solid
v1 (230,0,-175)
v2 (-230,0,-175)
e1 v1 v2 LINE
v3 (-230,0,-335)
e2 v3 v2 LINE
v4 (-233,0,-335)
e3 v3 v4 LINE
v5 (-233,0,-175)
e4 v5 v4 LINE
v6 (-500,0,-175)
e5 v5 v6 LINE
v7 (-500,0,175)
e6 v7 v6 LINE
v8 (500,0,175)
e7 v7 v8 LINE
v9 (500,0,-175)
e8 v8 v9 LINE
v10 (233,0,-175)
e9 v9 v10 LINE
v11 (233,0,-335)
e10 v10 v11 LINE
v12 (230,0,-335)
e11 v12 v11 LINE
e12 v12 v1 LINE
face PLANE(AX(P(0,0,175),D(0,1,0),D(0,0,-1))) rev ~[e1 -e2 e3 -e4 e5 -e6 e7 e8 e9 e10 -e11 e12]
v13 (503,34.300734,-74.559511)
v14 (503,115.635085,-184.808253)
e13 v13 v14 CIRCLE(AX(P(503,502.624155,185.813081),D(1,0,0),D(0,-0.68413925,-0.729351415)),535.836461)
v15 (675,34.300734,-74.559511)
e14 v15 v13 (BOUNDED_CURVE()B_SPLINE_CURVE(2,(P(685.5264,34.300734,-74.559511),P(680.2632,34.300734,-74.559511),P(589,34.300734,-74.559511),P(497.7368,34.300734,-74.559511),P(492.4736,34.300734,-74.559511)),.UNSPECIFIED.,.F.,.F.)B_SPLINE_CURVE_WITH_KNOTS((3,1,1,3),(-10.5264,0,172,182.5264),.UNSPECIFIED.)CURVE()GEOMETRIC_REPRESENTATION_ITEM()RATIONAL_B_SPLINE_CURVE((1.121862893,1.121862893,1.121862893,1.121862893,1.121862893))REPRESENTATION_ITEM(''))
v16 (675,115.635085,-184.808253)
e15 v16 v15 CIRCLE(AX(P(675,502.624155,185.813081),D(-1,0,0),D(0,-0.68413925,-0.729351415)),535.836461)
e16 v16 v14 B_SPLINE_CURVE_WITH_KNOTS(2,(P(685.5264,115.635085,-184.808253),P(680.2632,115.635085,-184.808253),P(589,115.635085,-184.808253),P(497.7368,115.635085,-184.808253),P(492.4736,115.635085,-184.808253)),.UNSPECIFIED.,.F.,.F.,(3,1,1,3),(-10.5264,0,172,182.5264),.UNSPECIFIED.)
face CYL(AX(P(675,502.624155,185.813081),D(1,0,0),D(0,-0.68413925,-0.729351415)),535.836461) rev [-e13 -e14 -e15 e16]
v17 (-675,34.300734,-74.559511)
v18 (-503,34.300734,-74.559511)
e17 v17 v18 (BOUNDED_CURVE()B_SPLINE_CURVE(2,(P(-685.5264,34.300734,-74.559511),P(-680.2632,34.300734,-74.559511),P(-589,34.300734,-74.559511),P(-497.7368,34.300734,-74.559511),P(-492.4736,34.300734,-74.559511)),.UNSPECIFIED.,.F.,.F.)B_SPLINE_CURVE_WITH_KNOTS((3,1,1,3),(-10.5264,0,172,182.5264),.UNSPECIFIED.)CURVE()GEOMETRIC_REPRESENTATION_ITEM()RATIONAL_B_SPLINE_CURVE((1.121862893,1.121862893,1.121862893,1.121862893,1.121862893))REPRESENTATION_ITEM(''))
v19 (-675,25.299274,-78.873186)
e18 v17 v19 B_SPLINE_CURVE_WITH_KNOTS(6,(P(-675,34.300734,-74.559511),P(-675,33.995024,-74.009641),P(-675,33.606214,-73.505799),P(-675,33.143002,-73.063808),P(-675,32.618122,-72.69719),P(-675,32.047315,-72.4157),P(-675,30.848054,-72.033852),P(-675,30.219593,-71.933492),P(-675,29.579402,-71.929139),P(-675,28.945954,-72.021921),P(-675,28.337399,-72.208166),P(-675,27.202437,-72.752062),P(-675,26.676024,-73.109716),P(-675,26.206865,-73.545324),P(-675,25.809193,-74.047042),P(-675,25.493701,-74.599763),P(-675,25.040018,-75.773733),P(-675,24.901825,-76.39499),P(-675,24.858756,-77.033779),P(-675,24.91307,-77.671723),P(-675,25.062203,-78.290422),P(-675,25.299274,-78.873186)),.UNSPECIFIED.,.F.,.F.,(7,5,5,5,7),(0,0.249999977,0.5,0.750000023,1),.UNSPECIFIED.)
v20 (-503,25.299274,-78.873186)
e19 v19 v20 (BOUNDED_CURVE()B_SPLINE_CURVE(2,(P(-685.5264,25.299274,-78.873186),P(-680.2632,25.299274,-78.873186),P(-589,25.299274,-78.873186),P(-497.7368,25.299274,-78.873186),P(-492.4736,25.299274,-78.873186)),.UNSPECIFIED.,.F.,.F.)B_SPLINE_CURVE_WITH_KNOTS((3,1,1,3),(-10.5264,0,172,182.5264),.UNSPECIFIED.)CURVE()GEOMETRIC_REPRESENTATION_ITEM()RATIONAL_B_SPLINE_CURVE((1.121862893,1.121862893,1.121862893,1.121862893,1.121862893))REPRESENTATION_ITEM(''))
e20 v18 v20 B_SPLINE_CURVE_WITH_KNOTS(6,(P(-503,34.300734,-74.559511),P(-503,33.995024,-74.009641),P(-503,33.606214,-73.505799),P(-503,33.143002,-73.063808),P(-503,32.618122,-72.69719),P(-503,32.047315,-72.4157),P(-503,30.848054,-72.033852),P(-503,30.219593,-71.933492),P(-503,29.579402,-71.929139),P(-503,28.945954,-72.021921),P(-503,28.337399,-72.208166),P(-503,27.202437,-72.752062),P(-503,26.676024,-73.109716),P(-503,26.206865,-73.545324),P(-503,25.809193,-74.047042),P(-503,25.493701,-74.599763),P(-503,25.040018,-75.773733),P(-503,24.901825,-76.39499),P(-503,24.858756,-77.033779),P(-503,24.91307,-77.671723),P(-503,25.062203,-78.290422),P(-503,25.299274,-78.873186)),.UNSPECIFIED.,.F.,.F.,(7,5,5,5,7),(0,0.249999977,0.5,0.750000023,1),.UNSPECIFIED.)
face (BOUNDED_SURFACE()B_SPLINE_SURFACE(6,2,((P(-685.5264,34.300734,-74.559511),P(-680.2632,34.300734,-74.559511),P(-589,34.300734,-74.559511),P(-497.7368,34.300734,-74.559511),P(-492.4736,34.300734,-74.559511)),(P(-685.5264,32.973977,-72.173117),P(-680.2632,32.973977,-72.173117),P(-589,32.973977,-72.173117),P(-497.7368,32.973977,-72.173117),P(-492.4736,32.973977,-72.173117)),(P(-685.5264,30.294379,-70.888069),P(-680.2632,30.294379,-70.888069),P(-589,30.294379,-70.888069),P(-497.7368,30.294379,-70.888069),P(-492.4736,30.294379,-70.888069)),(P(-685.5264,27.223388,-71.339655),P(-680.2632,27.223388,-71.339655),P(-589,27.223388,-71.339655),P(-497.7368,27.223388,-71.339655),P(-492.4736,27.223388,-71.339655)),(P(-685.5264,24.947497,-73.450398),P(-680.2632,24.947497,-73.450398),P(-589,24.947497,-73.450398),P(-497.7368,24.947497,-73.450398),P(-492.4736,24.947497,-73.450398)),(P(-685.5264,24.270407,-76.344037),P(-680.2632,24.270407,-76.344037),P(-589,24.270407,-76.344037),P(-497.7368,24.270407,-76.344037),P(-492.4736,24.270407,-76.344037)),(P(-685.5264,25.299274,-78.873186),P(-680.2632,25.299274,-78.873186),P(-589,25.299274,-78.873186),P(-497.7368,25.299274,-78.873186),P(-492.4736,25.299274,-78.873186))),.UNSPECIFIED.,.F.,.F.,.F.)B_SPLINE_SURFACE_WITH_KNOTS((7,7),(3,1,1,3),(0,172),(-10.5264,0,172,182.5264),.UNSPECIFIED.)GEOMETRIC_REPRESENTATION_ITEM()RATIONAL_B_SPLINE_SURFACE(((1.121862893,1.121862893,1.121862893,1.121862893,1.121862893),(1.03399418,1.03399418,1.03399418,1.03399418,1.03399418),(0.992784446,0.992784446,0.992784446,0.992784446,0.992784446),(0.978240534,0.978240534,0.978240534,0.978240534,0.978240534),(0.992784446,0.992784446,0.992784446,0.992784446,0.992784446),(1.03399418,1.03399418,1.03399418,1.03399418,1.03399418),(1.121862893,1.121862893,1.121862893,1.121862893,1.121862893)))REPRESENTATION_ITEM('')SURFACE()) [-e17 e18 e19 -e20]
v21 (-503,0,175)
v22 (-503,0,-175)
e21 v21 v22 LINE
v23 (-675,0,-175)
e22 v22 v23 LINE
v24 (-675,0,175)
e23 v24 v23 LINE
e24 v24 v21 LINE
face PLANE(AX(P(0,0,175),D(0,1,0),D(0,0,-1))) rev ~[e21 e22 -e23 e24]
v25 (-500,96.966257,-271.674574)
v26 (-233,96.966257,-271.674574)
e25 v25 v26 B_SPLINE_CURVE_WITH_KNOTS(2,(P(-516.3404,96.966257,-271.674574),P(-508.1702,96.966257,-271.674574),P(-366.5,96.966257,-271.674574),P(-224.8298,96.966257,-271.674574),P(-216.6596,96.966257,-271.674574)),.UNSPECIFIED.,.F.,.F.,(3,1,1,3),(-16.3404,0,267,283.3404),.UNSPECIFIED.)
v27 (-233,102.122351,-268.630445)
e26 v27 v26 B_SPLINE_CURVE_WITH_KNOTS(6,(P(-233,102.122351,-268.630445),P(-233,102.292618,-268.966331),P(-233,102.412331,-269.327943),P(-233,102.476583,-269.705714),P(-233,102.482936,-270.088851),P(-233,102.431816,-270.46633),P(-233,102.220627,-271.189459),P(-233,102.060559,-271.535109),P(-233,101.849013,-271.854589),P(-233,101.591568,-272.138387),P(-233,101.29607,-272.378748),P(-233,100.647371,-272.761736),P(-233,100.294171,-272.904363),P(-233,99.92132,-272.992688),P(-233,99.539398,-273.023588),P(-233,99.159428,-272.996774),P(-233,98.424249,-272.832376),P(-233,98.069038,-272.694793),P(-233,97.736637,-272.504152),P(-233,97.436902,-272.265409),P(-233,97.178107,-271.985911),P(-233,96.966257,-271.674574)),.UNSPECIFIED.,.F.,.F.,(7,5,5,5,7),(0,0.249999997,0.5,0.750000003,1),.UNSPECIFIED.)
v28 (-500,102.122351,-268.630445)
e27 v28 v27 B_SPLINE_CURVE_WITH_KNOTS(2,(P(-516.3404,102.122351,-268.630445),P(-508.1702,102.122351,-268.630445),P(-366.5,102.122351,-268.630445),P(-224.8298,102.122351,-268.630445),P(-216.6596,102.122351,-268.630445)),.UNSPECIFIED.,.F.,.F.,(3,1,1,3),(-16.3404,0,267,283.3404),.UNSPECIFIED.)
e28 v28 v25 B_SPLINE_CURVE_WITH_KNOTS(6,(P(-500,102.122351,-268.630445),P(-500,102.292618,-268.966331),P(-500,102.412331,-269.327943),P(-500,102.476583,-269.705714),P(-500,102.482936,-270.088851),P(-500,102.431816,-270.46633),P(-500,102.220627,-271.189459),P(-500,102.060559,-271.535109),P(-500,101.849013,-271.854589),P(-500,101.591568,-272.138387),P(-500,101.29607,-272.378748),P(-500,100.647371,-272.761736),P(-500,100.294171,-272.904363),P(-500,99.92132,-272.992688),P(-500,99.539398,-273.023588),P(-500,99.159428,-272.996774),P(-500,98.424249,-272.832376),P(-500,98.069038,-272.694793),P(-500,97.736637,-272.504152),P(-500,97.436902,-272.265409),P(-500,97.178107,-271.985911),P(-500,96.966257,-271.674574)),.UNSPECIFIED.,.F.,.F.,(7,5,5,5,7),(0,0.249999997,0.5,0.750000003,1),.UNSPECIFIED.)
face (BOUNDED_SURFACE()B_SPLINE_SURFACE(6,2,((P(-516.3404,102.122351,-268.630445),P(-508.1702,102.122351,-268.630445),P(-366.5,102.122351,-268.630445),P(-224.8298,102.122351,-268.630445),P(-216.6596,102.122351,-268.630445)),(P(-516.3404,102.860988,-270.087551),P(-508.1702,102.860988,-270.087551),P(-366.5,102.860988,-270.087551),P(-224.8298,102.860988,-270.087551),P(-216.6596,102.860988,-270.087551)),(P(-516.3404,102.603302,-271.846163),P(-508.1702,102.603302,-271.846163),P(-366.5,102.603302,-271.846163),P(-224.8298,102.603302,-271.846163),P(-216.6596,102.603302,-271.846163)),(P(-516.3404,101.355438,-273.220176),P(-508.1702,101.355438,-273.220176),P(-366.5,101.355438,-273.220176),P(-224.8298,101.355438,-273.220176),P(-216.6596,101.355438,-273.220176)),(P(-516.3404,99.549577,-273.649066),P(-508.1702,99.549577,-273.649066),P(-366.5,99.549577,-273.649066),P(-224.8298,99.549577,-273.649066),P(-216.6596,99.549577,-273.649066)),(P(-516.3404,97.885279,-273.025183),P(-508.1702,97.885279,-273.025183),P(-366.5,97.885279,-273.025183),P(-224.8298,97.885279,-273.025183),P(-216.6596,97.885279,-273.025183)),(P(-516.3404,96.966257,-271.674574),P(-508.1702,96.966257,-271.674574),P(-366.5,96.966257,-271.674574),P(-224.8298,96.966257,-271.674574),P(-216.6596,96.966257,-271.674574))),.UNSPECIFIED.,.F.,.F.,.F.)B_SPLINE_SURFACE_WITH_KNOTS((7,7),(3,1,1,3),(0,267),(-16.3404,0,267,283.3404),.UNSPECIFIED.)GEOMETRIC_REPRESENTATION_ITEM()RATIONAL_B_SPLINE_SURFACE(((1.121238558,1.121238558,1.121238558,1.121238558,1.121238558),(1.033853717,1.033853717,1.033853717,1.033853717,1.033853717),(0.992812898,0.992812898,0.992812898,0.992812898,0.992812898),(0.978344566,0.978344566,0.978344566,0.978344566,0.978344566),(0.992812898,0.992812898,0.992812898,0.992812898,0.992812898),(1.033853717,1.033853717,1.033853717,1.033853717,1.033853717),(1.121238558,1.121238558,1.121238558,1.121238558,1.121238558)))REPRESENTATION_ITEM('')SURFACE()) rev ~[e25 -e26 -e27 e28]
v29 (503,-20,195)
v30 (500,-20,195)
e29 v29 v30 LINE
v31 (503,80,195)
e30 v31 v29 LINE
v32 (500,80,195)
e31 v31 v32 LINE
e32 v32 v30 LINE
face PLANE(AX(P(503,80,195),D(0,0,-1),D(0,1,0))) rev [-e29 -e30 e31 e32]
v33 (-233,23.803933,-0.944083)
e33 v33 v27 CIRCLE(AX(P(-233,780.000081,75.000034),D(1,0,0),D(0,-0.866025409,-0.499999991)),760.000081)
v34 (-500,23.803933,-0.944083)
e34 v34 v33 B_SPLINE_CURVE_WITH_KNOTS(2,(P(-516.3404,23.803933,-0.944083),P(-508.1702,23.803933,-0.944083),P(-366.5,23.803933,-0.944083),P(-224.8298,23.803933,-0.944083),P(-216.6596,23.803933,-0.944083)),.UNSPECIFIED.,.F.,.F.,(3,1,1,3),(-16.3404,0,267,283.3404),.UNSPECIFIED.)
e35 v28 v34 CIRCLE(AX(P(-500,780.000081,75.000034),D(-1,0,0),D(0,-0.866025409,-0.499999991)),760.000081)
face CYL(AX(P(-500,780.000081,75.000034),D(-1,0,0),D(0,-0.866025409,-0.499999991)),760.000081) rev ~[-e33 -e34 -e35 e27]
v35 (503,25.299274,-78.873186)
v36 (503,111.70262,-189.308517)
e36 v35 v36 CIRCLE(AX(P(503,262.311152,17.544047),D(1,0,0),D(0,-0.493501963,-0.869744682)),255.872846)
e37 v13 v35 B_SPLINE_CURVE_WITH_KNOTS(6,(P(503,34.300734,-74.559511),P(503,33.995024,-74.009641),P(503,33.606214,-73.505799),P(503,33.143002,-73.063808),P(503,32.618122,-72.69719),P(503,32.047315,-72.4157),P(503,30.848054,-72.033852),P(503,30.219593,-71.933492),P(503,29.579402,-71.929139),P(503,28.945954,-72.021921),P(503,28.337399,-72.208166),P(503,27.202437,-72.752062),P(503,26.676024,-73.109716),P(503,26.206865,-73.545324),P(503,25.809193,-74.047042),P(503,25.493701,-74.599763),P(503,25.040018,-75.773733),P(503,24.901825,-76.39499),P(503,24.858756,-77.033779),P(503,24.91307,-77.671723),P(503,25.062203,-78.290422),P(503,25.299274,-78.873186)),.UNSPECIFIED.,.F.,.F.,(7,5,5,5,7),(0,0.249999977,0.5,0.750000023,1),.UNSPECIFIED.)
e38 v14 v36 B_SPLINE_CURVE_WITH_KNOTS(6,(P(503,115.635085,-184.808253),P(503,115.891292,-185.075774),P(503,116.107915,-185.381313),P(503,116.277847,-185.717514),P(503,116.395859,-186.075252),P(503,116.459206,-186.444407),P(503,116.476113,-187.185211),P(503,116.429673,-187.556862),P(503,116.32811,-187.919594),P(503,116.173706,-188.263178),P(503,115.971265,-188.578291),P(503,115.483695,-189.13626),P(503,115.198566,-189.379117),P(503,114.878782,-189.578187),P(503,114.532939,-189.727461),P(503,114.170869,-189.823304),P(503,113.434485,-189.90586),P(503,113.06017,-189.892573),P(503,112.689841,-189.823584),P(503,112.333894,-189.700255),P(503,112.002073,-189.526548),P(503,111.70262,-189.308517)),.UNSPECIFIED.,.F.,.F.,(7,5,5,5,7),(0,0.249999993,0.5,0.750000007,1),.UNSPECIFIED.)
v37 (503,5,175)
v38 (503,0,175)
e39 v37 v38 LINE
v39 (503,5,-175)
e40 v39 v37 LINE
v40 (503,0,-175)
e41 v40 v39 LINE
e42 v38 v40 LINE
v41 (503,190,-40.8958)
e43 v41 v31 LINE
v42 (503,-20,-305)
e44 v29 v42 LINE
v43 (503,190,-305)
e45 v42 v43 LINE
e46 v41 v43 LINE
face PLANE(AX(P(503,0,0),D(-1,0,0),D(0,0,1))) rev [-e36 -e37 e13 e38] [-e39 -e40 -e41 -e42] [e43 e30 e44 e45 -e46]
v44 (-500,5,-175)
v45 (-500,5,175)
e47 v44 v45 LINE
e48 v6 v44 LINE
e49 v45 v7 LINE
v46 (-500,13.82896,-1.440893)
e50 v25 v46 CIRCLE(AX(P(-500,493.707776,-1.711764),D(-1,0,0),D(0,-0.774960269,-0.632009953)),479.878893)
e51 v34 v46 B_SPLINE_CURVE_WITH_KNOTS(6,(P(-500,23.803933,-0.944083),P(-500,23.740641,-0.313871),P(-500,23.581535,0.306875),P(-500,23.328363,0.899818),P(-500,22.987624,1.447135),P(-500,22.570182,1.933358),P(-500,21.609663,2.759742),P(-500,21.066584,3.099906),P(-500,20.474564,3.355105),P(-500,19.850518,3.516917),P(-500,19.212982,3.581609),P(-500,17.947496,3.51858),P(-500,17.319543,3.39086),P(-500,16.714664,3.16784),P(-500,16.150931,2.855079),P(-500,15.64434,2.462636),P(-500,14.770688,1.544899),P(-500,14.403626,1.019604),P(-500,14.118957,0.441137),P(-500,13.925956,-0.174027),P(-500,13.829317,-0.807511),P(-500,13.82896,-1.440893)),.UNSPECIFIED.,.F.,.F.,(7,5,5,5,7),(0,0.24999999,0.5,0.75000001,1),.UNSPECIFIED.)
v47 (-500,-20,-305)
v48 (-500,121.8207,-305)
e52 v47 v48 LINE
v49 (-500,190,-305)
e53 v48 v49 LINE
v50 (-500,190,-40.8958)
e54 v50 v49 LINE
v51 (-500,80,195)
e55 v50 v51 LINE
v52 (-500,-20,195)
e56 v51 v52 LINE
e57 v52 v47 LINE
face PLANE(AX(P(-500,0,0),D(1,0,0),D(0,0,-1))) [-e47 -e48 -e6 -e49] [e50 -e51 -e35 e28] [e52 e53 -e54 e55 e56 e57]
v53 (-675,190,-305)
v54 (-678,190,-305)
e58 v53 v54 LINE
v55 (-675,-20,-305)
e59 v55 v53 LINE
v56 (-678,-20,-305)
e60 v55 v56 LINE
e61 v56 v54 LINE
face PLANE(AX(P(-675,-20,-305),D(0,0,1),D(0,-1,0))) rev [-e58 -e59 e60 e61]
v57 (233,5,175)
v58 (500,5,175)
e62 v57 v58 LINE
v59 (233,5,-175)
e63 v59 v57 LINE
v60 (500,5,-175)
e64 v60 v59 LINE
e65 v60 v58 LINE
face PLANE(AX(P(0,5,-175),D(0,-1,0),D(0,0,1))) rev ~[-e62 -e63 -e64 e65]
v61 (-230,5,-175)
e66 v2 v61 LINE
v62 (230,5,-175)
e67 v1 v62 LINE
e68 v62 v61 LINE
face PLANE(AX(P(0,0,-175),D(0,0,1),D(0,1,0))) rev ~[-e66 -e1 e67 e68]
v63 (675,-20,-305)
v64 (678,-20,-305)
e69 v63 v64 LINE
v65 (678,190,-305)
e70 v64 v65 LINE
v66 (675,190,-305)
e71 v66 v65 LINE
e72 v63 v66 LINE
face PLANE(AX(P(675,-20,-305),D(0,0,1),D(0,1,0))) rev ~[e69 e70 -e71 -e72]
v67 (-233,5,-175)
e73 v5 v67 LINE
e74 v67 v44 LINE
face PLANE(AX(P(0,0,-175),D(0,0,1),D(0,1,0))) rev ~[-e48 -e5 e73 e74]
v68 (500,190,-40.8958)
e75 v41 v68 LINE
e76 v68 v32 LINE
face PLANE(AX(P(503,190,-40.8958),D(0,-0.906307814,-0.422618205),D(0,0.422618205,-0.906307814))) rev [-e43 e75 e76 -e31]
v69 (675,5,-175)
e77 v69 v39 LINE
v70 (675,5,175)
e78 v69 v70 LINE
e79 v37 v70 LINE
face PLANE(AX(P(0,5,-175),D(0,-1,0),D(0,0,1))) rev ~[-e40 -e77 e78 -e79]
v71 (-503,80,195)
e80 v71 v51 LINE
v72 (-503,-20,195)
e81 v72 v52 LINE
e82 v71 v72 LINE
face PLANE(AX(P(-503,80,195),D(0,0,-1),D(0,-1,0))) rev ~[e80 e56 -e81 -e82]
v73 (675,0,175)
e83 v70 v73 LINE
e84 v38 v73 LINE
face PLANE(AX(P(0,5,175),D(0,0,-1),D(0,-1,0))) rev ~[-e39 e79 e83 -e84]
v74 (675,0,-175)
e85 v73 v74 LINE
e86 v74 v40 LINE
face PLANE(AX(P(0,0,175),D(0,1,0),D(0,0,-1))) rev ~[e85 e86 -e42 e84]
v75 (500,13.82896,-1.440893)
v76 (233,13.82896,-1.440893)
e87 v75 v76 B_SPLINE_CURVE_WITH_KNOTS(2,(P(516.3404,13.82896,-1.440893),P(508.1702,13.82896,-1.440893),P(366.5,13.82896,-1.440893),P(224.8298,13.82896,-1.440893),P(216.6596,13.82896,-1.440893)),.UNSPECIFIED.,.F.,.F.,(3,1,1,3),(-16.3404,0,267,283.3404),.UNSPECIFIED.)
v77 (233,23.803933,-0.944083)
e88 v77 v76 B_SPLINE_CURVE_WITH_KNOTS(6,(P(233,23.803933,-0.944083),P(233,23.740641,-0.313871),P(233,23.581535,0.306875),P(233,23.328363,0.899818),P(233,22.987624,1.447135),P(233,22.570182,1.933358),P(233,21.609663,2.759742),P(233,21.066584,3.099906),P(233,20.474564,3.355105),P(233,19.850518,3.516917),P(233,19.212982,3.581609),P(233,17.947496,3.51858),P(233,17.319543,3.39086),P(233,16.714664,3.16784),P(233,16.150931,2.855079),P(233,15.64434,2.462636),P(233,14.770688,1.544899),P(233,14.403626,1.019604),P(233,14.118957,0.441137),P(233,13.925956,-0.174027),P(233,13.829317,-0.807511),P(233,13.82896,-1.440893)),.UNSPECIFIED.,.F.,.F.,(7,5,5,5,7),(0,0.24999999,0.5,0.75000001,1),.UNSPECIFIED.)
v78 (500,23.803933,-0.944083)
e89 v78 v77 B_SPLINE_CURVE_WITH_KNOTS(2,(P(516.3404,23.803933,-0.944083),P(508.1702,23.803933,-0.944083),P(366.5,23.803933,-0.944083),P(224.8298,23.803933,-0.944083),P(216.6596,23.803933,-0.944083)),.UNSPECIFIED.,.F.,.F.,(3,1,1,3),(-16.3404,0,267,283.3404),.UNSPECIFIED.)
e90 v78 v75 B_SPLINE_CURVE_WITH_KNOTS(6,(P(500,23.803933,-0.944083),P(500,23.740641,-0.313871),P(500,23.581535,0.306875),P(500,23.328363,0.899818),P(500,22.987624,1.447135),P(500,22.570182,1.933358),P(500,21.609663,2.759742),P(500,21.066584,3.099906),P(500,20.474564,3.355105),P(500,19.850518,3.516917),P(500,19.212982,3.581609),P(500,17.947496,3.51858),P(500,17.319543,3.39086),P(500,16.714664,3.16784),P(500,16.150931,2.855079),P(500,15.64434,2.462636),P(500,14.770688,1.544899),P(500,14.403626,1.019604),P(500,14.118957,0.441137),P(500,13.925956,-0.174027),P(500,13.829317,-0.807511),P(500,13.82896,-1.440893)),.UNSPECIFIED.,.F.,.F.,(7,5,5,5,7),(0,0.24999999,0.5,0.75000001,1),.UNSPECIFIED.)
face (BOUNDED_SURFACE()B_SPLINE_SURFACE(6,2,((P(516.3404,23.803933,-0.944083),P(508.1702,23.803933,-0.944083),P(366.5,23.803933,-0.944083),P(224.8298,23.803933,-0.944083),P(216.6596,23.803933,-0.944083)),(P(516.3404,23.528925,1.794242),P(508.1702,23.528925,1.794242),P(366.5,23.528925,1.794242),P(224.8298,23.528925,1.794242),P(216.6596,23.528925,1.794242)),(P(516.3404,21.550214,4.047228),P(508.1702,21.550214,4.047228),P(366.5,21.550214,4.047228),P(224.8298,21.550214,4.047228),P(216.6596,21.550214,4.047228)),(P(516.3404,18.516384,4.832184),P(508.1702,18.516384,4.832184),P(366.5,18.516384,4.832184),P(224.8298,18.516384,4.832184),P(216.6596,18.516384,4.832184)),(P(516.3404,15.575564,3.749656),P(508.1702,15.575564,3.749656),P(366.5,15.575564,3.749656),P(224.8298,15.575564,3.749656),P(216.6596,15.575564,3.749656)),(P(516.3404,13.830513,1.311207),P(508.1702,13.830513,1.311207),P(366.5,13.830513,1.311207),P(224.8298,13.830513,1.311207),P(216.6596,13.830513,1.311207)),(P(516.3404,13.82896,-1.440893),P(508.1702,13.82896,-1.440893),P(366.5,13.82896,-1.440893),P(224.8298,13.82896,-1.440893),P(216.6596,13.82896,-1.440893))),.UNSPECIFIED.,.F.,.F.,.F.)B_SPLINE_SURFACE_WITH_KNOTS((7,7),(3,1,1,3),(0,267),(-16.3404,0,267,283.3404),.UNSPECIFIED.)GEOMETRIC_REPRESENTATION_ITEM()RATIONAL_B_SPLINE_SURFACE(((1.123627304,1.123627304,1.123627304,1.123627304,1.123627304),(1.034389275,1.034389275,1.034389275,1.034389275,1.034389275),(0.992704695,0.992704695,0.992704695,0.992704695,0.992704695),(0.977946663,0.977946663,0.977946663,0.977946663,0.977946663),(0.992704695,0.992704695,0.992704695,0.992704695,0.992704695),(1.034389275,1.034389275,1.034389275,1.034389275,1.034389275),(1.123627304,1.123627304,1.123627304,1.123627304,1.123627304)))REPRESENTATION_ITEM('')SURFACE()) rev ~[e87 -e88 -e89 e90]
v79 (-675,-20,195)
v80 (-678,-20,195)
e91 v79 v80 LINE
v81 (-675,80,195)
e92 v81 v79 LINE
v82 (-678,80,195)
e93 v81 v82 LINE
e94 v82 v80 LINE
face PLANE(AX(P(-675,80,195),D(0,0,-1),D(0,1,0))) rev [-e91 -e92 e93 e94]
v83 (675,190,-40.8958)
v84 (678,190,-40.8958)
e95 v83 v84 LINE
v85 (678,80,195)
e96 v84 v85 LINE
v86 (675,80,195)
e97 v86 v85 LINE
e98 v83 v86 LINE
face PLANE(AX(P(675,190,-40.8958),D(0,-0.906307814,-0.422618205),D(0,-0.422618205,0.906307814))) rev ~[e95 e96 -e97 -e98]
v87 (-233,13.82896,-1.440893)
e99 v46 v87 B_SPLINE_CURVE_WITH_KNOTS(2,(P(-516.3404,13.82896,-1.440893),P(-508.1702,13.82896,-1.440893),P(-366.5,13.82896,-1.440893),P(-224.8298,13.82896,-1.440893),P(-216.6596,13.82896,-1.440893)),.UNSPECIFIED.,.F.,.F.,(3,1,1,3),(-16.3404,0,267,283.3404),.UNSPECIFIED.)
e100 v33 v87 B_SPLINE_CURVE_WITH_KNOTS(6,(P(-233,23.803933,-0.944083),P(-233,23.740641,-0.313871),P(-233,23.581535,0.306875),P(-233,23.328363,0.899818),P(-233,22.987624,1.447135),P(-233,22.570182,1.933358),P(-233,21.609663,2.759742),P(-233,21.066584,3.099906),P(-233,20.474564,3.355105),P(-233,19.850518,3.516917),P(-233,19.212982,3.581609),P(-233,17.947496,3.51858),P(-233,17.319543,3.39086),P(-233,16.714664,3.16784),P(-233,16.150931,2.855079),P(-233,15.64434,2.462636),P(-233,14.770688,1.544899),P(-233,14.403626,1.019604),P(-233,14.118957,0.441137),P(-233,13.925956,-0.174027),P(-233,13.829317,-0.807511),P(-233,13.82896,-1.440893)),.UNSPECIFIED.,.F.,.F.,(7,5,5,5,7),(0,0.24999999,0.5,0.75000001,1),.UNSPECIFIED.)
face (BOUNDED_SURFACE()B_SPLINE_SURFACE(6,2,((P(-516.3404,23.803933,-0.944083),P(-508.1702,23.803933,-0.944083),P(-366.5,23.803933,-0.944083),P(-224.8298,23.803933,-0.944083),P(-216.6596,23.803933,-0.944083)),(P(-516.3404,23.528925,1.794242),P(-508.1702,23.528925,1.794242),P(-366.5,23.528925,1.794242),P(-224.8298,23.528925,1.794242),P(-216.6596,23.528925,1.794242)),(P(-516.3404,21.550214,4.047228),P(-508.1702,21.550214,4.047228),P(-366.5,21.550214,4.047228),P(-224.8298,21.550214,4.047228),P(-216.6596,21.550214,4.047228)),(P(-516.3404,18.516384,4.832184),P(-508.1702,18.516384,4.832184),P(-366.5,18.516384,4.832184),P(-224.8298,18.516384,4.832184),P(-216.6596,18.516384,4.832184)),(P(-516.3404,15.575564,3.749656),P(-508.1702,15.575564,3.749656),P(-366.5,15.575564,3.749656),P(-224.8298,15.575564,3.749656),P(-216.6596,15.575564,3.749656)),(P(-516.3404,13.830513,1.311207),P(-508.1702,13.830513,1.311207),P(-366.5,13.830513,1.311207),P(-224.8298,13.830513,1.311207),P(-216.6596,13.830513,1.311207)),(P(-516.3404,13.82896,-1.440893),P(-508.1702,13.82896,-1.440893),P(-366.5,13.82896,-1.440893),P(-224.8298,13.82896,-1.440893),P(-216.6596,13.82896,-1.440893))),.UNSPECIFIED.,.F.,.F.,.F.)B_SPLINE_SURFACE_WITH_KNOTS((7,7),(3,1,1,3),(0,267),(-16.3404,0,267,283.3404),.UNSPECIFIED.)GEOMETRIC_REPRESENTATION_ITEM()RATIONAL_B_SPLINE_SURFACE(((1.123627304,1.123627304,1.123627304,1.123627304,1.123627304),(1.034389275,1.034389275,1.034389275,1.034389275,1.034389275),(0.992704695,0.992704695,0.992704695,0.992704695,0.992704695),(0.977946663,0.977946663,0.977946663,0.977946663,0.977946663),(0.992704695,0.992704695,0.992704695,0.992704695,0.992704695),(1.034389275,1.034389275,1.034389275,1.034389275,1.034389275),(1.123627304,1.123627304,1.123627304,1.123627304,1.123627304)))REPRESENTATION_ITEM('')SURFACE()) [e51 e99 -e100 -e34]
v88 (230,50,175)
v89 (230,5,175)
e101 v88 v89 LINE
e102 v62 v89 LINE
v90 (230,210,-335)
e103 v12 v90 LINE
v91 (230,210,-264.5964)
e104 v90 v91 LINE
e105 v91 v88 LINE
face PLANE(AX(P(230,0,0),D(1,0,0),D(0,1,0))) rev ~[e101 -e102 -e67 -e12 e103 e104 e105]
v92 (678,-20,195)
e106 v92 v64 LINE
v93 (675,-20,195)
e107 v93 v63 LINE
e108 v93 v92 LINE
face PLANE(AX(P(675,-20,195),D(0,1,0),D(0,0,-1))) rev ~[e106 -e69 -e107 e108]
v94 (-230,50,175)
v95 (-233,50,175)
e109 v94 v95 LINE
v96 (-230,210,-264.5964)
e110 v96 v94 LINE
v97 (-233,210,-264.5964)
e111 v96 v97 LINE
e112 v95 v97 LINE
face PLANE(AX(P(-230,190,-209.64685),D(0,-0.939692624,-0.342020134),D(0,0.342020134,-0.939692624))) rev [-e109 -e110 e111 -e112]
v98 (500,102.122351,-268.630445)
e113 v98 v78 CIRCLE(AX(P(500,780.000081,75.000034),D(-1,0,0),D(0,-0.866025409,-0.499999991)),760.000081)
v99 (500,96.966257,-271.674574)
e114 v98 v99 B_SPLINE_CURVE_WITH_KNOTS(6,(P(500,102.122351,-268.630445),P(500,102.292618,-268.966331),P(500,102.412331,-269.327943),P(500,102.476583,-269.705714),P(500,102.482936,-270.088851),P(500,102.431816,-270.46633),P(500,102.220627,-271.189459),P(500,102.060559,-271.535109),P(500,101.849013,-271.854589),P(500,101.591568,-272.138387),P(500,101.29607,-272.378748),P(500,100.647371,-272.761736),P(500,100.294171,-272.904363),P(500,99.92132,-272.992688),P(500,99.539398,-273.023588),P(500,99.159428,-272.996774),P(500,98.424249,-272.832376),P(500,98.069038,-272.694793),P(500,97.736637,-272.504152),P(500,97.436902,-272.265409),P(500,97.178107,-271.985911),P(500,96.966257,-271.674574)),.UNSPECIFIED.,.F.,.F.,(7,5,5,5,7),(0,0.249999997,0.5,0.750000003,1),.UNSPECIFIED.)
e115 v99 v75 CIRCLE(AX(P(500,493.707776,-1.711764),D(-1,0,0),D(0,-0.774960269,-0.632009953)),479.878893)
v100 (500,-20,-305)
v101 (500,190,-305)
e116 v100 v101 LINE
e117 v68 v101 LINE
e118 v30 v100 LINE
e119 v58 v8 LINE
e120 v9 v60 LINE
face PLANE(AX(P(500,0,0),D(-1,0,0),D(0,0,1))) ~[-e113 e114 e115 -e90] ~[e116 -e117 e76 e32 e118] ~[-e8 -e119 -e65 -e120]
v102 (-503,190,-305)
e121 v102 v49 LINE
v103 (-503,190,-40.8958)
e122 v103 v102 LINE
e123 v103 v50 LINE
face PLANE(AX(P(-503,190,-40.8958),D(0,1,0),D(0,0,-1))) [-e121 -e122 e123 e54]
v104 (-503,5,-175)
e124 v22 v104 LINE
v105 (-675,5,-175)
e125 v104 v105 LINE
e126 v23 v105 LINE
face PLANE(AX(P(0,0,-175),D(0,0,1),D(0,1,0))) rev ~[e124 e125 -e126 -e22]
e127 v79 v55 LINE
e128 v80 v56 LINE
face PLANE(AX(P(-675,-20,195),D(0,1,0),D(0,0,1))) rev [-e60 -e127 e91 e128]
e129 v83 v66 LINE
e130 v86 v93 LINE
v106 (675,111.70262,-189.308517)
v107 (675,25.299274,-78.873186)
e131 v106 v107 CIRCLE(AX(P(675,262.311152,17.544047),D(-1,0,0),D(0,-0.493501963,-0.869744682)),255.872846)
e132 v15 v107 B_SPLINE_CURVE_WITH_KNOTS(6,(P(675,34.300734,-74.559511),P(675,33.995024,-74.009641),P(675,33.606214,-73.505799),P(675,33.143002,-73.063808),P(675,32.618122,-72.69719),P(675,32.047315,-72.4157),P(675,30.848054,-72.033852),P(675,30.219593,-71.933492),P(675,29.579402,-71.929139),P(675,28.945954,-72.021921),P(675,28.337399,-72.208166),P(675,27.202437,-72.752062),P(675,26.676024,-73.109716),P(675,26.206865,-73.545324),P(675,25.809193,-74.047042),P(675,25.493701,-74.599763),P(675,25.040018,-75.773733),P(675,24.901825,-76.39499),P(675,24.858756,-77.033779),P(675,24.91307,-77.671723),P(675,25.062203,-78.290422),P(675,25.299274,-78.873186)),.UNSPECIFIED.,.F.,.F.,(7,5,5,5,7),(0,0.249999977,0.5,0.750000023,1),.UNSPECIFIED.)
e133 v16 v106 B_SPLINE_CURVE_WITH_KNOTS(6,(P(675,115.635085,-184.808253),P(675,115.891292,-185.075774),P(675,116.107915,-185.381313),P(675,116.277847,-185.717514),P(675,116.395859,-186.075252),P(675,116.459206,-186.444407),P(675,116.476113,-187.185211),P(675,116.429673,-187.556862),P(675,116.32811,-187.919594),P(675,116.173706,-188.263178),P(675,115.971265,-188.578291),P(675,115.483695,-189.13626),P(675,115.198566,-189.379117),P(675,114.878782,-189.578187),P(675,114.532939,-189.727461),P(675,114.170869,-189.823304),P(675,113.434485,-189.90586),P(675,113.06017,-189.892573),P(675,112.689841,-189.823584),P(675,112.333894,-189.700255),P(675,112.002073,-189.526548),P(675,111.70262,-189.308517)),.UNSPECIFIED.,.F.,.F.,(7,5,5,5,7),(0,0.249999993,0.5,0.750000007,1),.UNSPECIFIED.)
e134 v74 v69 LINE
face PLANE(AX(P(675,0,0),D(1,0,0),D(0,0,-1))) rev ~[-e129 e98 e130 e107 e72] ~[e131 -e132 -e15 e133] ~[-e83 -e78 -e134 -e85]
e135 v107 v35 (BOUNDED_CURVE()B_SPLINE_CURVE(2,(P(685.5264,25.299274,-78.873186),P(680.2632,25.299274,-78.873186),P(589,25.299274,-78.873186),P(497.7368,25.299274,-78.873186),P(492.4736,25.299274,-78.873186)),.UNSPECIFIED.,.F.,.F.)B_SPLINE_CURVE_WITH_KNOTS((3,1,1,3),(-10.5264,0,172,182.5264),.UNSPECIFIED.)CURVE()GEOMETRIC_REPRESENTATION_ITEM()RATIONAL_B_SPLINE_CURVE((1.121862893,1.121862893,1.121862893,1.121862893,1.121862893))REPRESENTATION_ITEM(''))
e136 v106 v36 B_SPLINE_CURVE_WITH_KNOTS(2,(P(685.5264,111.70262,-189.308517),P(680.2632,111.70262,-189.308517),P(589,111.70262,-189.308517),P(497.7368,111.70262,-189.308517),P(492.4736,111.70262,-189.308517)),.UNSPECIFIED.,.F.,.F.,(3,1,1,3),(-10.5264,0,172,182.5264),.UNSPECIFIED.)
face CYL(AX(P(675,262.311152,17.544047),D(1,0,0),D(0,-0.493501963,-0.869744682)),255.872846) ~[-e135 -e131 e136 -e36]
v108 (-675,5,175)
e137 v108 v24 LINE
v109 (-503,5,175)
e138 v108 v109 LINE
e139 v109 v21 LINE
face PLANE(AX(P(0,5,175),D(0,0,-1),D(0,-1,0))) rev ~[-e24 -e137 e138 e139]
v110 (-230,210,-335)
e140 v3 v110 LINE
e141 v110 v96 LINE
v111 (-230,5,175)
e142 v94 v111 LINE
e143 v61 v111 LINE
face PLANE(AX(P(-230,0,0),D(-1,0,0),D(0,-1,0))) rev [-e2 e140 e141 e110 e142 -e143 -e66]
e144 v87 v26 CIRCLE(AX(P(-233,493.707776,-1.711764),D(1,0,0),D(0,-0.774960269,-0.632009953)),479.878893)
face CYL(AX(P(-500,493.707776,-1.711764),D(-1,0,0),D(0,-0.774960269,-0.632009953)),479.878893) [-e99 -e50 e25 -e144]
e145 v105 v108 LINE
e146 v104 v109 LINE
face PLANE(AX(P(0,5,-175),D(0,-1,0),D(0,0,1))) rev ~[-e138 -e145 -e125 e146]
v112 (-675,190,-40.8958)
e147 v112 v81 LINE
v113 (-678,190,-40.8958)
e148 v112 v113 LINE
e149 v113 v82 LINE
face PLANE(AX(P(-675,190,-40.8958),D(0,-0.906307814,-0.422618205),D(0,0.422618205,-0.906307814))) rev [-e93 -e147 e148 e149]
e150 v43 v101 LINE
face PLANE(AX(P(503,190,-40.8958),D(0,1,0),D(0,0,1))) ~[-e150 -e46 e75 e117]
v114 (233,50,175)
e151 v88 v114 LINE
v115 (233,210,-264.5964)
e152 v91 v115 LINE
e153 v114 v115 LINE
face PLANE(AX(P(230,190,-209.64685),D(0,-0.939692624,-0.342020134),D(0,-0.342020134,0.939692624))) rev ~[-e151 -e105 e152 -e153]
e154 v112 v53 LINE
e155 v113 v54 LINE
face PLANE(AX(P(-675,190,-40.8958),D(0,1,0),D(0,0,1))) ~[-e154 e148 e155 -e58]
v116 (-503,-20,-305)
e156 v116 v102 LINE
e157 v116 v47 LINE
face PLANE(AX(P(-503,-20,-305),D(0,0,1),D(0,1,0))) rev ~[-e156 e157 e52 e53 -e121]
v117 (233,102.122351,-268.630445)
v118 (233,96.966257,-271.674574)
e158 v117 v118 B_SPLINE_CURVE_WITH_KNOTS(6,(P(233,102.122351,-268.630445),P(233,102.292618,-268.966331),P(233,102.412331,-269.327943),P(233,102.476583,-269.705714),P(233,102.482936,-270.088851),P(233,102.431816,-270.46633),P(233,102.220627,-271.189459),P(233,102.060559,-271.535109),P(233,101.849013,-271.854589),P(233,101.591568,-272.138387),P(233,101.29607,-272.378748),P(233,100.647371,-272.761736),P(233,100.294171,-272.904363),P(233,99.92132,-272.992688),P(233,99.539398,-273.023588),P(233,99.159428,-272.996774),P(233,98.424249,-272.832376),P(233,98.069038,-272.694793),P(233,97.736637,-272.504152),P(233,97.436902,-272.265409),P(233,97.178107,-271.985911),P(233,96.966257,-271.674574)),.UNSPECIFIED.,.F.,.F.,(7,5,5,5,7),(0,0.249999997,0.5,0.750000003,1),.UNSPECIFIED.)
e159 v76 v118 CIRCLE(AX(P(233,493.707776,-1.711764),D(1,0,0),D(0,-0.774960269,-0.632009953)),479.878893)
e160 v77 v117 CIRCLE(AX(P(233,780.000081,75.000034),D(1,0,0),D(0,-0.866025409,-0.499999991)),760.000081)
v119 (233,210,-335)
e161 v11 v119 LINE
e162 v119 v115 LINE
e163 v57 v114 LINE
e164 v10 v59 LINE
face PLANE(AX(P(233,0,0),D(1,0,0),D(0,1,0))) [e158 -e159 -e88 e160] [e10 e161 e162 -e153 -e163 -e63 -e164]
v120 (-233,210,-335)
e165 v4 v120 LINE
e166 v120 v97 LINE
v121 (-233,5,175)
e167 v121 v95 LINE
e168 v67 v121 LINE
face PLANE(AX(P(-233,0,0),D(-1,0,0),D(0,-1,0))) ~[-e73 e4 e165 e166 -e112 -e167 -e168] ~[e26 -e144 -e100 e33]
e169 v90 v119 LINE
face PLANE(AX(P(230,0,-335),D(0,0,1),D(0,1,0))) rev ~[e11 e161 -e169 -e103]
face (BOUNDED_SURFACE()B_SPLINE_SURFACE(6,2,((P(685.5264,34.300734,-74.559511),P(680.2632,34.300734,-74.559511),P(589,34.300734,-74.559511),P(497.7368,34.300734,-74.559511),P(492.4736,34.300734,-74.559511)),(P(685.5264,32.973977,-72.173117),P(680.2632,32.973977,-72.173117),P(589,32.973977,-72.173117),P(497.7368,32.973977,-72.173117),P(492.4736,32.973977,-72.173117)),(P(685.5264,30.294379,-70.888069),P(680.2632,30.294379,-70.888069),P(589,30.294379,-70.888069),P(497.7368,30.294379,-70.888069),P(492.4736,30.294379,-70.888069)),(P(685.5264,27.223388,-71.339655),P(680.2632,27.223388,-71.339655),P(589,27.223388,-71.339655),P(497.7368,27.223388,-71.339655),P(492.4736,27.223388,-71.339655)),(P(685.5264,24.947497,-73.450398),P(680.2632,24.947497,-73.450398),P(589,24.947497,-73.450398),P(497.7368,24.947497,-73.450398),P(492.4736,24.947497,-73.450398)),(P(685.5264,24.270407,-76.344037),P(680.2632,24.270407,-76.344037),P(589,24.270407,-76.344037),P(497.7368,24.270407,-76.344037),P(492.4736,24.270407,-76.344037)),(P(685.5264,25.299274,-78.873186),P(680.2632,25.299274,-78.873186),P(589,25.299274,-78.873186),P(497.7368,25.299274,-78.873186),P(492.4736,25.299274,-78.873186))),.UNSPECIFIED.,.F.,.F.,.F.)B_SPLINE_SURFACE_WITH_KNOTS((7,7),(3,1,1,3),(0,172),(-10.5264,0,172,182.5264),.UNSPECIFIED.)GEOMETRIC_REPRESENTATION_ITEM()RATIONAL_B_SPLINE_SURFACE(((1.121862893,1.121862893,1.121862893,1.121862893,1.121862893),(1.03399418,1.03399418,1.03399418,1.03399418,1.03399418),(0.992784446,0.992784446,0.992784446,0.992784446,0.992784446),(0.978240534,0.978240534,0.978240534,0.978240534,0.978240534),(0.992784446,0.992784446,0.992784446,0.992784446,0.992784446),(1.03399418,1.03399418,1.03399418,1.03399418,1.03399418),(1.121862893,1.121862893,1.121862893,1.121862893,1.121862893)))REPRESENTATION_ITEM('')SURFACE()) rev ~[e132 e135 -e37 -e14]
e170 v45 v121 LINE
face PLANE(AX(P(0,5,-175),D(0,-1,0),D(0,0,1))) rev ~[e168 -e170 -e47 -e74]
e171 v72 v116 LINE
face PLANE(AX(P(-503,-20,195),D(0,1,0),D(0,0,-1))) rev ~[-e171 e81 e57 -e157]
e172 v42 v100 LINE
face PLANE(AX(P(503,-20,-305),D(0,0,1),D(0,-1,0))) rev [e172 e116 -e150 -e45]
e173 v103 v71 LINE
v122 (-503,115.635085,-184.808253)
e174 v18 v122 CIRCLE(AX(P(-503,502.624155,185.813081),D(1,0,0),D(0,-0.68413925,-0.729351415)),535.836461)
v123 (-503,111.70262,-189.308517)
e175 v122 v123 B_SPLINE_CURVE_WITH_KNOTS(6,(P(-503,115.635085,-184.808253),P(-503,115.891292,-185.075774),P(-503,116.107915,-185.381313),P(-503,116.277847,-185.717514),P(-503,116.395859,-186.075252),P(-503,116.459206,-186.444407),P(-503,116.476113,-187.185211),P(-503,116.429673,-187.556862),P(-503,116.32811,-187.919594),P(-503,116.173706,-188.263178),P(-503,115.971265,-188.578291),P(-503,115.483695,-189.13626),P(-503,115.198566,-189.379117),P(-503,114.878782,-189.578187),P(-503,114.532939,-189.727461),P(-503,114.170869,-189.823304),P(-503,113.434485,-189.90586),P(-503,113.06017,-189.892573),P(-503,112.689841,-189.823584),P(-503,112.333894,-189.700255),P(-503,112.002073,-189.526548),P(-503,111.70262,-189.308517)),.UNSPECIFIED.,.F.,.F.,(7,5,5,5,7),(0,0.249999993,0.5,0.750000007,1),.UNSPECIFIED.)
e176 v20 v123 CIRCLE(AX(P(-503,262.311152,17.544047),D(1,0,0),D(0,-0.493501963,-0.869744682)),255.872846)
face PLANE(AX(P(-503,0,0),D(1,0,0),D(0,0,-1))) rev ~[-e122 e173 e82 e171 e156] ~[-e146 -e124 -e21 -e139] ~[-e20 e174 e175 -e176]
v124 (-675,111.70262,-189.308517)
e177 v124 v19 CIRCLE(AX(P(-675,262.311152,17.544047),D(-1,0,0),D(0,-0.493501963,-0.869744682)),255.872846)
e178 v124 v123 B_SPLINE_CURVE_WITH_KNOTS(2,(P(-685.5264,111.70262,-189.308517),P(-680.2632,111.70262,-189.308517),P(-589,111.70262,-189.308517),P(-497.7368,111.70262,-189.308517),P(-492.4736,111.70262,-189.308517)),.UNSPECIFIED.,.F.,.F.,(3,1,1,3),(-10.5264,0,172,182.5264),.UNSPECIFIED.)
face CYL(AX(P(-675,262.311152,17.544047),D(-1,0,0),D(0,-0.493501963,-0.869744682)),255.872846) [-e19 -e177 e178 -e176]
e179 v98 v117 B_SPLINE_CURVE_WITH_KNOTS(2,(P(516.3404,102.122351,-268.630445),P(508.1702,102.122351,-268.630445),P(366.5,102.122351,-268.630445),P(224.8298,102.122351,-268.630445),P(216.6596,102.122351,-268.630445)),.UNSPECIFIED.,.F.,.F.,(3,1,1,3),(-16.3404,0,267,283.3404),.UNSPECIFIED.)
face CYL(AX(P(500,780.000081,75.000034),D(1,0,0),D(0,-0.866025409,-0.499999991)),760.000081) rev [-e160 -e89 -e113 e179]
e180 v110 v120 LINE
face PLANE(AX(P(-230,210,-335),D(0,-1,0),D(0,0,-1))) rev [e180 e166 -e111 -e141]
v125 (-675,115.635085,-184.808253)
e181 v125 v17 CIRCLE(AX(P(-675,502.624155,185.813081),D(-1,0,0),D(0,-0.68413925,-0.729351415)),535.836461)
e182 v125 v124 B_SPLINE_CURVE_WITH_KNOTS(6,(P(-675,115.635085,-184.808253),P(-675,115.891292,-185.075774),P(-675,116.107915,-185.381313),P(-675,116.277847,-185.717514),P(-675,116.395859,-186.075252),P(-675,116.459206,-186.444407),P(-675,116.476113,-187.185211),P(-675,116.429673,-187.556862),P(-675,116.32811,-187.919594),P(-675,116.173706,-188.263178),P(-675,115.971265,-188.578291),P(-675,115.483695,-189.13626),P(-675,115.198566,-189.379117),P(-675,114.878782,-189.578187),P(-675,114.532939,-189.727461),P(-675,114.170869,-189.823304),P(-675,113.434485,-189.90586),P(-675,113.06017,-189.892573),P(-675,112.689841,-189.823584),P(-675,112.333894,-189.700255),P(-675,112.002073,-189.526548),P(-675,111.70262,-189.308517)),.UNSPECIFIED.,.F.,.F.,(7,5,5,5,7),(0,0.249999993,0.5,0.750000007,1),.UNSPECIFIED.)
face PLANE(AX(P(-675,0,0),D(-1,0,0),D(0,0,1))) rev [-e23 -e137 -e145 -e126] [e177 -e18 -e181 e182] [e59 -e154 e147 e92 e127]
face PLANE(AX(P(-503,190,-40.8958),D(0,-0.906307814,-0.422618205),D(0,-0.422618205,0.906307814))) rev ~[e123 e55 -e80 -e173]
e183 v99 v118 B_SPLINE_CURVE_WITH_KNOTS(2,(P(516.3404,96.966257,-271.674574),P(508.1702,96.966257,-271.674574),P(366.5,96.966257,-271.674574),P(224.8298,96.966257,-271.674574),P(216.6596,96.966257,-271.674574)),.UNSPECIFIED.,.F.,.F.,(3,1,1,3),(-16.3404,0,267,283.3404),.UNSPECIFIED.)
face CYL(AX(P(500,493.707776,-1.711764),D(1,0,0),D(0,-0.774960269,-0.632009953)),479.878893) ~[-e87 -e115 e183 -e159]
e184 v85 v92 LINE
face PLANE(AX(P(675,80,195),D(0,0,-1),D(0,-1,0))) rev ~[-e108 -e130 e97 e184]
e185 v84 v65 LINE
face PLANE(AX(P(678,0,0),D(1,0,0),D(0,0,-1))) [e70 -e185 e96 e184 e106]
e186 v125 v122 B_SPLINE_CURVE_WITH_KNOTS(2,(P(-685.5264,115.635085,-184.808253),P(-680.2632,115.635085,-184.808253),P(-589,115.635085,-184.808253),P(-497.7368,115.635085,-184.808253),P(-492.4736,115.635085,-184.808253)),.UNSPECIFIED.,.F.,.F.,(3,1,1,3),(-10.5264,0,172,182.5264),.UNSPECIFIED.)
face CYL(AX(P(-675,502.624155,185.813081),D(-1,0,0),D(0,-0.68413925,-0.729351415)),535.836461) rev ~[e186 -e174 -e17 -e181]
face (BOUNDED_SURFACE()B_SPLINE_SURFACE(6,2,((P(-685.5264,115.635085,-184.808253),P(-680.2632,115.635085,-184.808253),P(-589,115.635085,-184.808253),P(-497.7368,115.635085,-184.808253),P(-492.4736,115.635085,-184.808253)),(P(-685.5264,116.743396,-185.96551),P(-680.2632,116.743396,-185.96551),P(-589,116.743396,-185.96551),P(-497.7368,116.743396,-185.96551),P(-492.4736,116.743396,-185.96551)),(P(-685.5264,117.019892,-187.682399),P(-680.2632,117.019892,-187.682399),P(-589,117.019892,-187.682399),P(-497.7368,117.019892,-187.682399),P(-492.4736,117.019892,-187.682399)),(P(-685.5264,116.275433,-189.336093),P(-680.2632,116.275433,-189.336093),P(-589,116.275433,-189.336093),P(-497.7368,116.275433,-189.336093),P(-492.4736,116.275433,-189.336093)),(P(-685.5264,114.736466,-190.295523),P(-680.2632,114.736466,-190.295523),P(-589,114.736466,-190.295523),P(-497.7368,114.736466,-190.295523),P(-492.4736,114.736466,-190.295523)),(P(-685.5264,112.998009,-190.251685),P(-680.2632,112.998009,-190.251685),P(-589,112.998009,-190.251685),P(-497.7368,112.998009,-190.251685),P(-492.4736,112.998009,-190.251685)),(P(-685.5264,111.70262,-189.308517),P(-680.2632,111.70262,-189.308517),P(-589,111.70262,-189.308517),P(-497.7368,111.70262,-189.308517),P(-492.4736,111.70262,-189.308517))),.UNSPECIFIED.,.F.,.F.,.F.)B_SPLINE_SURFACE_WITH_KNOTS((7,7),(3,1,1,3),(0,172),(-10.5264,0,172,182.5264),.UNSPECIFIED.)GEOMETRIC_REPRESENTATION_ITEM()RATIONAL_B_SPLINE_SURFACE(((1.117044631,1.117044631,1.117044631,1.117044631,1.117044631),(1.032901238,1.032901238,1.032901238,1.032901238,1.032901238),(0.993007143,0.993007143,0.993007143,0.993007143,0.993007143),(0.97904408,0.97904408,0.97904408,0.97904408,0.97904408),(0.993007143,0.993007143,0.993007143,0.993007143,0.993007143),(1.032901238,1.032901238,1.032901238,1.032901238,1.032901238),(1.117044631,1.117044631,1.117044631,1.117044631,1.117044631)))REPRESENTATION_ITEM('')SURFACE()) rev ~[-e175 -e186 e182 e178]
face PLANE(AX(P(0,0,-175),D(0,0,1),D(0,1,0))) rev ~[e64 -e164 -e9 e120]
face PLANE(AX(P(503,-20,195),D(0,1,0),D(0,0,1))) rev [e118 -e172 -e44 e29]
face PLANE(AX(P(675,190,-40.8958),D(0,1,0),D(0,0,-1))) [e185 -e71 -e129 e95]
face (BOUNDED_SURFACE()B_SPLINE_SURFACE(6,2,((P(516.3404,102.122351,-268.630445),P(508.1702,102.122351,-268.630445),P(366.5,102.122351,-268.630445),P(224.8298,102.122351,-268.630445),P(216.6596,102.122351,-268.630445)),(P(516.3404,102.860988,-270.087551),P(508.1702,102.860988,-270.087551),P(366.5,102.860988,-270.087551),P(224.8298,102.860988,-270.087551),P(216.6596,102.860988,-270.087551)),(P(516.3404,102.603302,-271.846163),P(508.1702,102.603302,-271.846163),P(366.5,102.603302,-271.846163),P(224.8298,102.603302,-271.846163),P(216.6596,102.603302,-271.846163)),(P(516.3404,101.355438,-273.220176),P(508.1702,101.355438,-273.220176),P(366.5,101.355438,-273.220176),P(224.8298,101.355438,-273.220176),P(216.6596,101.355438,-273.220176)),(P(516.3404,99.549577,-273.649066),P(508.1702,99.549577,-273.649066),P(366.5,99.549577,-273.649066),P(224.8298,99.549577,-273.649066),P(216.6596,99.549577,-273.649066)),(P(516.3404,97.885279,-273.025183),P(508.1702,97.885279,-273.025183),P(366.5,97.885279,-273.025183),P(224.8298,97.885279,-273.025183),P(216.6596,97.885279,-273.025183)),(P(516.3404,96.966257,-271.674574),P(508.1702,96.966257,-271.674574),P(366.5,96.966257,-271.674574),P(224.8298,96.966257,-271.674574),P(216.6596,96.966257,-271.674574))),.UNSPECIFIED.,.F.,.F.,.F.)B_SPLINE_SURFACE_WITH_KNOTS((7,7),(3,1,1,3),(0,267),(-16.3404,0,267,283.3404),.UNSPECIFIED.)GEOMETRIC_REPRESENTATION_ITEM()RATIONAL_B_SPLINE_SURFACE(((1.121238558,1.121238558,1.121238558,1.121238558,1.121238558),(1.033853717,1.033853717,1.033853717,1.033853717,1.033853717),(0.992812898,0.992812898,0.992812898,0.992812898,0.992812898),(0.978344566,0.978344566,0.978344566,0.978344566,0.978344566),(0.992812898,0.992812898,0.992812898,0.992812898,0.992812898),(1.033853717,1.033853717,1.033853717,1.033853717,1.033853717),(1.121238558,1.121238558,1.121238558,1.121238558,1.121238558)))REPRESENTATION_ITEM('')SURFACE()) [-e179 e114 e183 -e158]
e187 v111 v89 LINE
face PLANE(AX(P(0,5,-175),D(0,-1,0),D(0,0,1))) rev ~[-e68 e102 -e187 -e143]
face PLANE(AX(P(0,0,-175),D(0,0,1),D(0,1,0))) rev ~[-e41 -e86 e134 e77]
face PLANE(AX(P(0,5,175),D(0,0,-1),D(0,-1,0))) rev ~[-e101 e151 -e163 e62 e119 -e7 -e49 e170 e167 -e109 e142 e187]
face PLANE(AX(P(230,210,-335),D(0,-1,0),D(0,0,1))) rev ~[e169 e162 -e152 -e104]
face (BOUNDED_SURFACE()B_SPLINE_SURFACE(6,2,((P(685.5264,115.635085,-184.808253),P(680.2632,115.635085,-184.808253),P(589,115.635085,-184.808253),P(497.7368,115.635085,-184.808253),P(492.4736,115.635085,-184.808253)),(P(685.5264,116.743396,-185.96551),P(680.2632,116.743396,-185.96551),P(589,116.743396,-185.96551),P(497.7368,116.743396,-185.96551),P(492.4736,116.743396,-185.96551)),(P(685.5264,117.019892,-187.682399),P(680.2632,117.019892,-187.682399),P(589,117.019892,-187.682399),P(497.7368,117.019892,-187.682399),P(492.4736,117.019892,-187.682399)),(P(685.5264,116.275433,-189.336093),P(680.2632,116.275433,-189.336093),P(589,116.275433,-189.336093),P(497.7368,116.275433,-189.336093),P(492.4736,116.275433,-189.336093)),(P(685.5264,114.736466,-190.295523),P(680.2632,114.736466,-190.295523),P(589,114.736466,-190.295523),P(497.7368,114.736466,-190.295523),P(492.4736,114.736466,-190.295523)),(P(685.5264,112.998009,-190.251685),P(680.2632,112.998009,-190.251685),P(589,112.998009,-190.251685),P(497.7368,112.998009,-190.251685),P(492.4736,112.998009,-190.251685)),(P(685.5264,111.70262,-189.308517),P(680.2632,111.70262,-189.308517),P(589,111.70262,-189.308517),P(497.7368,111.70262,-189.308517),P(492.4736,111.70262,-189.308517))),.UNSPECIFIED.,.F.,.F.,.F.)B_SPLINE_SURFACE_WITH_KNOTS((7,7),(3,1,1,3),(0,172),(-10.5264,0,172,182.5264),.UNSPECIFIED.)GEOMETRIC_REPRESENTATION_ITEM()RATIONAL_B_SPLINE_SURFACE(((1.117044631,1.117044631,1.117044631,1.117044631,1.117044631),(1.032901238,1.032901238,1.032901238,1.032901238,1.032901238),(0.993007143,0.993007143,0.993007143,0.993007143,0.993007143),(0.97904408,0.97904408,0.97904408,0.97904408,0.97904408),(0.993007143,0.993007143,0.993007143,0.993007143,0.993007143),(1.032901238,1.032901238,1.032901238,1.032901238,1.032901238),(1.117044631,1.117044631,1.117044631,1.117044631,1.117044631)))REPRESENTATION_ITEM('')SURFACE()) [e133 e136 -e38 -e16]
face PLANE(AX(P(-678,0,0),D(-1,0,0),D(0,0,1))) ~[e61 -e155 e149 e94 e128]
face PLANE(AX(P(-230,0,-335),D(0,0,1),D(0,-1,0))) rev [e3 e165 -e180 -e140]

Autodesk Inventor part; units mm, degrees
sketch "スケッチ1" plane through (0, 0, 0) normal (1, 0, 0) x (0, 1, 0)
  line L0 (5, 175) -> (0, 175)
  line L1 (0, 175) -> (0, -175)
  line L2 (0, -175) -> (5, -175)
  line L3 (5, -175) -> (5, 175)
  point P0 (0, 0)
  dimension "d0" = 350
  dimension "d1" = 5
extrude "押し出し1" add sketch "スケッチ1" along normal mid plane 1350
sketch "スケッチ2" plane through (675, 0, 0) normal (1, 0, 0) x (0, 0, -1)
  line L0 (40.8958, 190) -> (-195, 80)
  line L1 (-195, 80) -> (-195, -20)
  line L2 (-195, -20) -> (305, -20)
  line L3 (305, -20) -> (305, 190)
  line L4 (-175, 0) -> (175, 0) projected
  line L5 (-175, 5) -> (-175, 0) projected
  line L6 (175, 0) -> (175, 5) projected
  line L7 (175, 5) -> (-175, 5) projected
  line L8 (40.8958, 190) -> (305, 190)
  point P0 (0, 0)
  dimension "d4" = 20
  dimension "d5" = 25
  dimension "d6" = 210
  dimension "d7" = 500
  dimension "d8" = 20
  dimension "d9" = 100
extrude "押し出し3" add sketch "スケッチ2" along normal blind 3 contours L8 L3 L2 L1 L0 | L5 L7 L6 L4
ref_plane "作業平面1" through (230, 0, 0) normal (1, 0, 0) x (0, 1, 0)
ref_plane "作業平面2" through (589, 0, 0) normal (-1, 0, 0) x (0, 0, 1)
ref_plane "作業平面3" through (230, 0, 0) normal (1, 0, 0) x (0, 1, 0)
mirror "ミラー3" about plane through (589, 0, 0) normal (-1, 0, 0) of "押し出し3"
sketch "スケッチ4" plane through (230, 0, 0) normal (1, 0, 0) x (0, 1, 0)
  line L0 (50, 175) -> (0, 175)
  line L1 (0, 175) -> (0, -335)
  line L2 (0, -335) -> (210, -335)
  line L3 (210, -335) -> (210, -264.5964)
  line L4 (210, -264.5964) -> (50, 175)
  line L5 (0, -561) -> (0, 321) projected
  line L6 (80, 195) -> (-20, 195) projected
  line L7 (-20, 195) -> (-20, -305) projected
  line L8 (-20, -305) -> (190, -305) projected
  line L9 (190, -305) -> (190, -40.8958) projected
  line L10 (5, 175) -> (0, 175) projected
  point P0 (0, 0)
  dimension "d28" = 30
  dimension "d29" = 20
  dimension "d30" = 50
  dimension "d44" = 20
extrude "押し出し5" add sketch "スケッチ4" along normal blind 3 contours L4 L9 L8 L1 L0 | L4 L3 L2 L1 L8 L9
sketch "スケッチ5" plane through (675, 0, 0) normal (-1, 0, 0) x (0, 0, 1)
  arc A0 (-205, 136.0374) -> (-25, 10) centre (185.8126, 502.6236) ccw
  line L0 (175, 5) -> (-175, 5) projected
  line L1 (-175, 5) -> (-175, 0) projected
  arc A1 (-205, 136.0374) -> (-25, 10) centre (17.5441, 262.3112) ccw
  line L2 (-25, 10) -> (-205, 136.0374)
  line L3 (-305, -20) -> (-305, 190) projected
  line L4 (-175, 5) -> (175, 5) projected
  point P0 (0, 0)
  dimension "d36" = 5
  dimension "d37" = 150
  dimension "d53" = 35
  dimension "d54" = 100
extrude "押し出し6" add sketch "スケッチ5" along normal up to next contours A0 A1
sketch "スケッチ6" plane through (500, -20, -305) normal (-1, 0, 0) x (0, 0, 1)
  arc A0 (0, 141.8207) -> (380, 40) centre (380, 800) ccw
  arc A1 (0, 141.8207) -> (380, 40) centre (303.2883, 513.7079) ccw
  line L0 (0, 141.8207) -> (380, 40)
  line L1 (480, 25) -> (130, 25) projected
  line L2 (480, 20) -> (480, 25) projected
  line L3 (380, 40) -> (470.3272, 40)
  line L4 (0, 0) -> (0, 210) projected
  point P0 (305, 20)
  dimension "d45" = 15
  dimension "d46" = 100
  dimension "d48" = 15
extrude "押し出し7" add sketch "スケッチ6" along normal up to next contours A0 A1
fillet "フィレット2" radius 5 2 edges at (366.5, 20, 75) (589, 10, -25)
fillet "フィレット3" radius 3 2 edges at (366.5, 121.8207, -305) (589, 136.0374, -205)
mirror "ミラー9" about plane through (0, 0, 0) normal (1, 0, 0) of "押し出し5", "押し出し7", "押し出し3", "ミラー3", "押し出し6", "フィレット2", "フィレット3"
properties part number "F-wing" material "CFRP"
